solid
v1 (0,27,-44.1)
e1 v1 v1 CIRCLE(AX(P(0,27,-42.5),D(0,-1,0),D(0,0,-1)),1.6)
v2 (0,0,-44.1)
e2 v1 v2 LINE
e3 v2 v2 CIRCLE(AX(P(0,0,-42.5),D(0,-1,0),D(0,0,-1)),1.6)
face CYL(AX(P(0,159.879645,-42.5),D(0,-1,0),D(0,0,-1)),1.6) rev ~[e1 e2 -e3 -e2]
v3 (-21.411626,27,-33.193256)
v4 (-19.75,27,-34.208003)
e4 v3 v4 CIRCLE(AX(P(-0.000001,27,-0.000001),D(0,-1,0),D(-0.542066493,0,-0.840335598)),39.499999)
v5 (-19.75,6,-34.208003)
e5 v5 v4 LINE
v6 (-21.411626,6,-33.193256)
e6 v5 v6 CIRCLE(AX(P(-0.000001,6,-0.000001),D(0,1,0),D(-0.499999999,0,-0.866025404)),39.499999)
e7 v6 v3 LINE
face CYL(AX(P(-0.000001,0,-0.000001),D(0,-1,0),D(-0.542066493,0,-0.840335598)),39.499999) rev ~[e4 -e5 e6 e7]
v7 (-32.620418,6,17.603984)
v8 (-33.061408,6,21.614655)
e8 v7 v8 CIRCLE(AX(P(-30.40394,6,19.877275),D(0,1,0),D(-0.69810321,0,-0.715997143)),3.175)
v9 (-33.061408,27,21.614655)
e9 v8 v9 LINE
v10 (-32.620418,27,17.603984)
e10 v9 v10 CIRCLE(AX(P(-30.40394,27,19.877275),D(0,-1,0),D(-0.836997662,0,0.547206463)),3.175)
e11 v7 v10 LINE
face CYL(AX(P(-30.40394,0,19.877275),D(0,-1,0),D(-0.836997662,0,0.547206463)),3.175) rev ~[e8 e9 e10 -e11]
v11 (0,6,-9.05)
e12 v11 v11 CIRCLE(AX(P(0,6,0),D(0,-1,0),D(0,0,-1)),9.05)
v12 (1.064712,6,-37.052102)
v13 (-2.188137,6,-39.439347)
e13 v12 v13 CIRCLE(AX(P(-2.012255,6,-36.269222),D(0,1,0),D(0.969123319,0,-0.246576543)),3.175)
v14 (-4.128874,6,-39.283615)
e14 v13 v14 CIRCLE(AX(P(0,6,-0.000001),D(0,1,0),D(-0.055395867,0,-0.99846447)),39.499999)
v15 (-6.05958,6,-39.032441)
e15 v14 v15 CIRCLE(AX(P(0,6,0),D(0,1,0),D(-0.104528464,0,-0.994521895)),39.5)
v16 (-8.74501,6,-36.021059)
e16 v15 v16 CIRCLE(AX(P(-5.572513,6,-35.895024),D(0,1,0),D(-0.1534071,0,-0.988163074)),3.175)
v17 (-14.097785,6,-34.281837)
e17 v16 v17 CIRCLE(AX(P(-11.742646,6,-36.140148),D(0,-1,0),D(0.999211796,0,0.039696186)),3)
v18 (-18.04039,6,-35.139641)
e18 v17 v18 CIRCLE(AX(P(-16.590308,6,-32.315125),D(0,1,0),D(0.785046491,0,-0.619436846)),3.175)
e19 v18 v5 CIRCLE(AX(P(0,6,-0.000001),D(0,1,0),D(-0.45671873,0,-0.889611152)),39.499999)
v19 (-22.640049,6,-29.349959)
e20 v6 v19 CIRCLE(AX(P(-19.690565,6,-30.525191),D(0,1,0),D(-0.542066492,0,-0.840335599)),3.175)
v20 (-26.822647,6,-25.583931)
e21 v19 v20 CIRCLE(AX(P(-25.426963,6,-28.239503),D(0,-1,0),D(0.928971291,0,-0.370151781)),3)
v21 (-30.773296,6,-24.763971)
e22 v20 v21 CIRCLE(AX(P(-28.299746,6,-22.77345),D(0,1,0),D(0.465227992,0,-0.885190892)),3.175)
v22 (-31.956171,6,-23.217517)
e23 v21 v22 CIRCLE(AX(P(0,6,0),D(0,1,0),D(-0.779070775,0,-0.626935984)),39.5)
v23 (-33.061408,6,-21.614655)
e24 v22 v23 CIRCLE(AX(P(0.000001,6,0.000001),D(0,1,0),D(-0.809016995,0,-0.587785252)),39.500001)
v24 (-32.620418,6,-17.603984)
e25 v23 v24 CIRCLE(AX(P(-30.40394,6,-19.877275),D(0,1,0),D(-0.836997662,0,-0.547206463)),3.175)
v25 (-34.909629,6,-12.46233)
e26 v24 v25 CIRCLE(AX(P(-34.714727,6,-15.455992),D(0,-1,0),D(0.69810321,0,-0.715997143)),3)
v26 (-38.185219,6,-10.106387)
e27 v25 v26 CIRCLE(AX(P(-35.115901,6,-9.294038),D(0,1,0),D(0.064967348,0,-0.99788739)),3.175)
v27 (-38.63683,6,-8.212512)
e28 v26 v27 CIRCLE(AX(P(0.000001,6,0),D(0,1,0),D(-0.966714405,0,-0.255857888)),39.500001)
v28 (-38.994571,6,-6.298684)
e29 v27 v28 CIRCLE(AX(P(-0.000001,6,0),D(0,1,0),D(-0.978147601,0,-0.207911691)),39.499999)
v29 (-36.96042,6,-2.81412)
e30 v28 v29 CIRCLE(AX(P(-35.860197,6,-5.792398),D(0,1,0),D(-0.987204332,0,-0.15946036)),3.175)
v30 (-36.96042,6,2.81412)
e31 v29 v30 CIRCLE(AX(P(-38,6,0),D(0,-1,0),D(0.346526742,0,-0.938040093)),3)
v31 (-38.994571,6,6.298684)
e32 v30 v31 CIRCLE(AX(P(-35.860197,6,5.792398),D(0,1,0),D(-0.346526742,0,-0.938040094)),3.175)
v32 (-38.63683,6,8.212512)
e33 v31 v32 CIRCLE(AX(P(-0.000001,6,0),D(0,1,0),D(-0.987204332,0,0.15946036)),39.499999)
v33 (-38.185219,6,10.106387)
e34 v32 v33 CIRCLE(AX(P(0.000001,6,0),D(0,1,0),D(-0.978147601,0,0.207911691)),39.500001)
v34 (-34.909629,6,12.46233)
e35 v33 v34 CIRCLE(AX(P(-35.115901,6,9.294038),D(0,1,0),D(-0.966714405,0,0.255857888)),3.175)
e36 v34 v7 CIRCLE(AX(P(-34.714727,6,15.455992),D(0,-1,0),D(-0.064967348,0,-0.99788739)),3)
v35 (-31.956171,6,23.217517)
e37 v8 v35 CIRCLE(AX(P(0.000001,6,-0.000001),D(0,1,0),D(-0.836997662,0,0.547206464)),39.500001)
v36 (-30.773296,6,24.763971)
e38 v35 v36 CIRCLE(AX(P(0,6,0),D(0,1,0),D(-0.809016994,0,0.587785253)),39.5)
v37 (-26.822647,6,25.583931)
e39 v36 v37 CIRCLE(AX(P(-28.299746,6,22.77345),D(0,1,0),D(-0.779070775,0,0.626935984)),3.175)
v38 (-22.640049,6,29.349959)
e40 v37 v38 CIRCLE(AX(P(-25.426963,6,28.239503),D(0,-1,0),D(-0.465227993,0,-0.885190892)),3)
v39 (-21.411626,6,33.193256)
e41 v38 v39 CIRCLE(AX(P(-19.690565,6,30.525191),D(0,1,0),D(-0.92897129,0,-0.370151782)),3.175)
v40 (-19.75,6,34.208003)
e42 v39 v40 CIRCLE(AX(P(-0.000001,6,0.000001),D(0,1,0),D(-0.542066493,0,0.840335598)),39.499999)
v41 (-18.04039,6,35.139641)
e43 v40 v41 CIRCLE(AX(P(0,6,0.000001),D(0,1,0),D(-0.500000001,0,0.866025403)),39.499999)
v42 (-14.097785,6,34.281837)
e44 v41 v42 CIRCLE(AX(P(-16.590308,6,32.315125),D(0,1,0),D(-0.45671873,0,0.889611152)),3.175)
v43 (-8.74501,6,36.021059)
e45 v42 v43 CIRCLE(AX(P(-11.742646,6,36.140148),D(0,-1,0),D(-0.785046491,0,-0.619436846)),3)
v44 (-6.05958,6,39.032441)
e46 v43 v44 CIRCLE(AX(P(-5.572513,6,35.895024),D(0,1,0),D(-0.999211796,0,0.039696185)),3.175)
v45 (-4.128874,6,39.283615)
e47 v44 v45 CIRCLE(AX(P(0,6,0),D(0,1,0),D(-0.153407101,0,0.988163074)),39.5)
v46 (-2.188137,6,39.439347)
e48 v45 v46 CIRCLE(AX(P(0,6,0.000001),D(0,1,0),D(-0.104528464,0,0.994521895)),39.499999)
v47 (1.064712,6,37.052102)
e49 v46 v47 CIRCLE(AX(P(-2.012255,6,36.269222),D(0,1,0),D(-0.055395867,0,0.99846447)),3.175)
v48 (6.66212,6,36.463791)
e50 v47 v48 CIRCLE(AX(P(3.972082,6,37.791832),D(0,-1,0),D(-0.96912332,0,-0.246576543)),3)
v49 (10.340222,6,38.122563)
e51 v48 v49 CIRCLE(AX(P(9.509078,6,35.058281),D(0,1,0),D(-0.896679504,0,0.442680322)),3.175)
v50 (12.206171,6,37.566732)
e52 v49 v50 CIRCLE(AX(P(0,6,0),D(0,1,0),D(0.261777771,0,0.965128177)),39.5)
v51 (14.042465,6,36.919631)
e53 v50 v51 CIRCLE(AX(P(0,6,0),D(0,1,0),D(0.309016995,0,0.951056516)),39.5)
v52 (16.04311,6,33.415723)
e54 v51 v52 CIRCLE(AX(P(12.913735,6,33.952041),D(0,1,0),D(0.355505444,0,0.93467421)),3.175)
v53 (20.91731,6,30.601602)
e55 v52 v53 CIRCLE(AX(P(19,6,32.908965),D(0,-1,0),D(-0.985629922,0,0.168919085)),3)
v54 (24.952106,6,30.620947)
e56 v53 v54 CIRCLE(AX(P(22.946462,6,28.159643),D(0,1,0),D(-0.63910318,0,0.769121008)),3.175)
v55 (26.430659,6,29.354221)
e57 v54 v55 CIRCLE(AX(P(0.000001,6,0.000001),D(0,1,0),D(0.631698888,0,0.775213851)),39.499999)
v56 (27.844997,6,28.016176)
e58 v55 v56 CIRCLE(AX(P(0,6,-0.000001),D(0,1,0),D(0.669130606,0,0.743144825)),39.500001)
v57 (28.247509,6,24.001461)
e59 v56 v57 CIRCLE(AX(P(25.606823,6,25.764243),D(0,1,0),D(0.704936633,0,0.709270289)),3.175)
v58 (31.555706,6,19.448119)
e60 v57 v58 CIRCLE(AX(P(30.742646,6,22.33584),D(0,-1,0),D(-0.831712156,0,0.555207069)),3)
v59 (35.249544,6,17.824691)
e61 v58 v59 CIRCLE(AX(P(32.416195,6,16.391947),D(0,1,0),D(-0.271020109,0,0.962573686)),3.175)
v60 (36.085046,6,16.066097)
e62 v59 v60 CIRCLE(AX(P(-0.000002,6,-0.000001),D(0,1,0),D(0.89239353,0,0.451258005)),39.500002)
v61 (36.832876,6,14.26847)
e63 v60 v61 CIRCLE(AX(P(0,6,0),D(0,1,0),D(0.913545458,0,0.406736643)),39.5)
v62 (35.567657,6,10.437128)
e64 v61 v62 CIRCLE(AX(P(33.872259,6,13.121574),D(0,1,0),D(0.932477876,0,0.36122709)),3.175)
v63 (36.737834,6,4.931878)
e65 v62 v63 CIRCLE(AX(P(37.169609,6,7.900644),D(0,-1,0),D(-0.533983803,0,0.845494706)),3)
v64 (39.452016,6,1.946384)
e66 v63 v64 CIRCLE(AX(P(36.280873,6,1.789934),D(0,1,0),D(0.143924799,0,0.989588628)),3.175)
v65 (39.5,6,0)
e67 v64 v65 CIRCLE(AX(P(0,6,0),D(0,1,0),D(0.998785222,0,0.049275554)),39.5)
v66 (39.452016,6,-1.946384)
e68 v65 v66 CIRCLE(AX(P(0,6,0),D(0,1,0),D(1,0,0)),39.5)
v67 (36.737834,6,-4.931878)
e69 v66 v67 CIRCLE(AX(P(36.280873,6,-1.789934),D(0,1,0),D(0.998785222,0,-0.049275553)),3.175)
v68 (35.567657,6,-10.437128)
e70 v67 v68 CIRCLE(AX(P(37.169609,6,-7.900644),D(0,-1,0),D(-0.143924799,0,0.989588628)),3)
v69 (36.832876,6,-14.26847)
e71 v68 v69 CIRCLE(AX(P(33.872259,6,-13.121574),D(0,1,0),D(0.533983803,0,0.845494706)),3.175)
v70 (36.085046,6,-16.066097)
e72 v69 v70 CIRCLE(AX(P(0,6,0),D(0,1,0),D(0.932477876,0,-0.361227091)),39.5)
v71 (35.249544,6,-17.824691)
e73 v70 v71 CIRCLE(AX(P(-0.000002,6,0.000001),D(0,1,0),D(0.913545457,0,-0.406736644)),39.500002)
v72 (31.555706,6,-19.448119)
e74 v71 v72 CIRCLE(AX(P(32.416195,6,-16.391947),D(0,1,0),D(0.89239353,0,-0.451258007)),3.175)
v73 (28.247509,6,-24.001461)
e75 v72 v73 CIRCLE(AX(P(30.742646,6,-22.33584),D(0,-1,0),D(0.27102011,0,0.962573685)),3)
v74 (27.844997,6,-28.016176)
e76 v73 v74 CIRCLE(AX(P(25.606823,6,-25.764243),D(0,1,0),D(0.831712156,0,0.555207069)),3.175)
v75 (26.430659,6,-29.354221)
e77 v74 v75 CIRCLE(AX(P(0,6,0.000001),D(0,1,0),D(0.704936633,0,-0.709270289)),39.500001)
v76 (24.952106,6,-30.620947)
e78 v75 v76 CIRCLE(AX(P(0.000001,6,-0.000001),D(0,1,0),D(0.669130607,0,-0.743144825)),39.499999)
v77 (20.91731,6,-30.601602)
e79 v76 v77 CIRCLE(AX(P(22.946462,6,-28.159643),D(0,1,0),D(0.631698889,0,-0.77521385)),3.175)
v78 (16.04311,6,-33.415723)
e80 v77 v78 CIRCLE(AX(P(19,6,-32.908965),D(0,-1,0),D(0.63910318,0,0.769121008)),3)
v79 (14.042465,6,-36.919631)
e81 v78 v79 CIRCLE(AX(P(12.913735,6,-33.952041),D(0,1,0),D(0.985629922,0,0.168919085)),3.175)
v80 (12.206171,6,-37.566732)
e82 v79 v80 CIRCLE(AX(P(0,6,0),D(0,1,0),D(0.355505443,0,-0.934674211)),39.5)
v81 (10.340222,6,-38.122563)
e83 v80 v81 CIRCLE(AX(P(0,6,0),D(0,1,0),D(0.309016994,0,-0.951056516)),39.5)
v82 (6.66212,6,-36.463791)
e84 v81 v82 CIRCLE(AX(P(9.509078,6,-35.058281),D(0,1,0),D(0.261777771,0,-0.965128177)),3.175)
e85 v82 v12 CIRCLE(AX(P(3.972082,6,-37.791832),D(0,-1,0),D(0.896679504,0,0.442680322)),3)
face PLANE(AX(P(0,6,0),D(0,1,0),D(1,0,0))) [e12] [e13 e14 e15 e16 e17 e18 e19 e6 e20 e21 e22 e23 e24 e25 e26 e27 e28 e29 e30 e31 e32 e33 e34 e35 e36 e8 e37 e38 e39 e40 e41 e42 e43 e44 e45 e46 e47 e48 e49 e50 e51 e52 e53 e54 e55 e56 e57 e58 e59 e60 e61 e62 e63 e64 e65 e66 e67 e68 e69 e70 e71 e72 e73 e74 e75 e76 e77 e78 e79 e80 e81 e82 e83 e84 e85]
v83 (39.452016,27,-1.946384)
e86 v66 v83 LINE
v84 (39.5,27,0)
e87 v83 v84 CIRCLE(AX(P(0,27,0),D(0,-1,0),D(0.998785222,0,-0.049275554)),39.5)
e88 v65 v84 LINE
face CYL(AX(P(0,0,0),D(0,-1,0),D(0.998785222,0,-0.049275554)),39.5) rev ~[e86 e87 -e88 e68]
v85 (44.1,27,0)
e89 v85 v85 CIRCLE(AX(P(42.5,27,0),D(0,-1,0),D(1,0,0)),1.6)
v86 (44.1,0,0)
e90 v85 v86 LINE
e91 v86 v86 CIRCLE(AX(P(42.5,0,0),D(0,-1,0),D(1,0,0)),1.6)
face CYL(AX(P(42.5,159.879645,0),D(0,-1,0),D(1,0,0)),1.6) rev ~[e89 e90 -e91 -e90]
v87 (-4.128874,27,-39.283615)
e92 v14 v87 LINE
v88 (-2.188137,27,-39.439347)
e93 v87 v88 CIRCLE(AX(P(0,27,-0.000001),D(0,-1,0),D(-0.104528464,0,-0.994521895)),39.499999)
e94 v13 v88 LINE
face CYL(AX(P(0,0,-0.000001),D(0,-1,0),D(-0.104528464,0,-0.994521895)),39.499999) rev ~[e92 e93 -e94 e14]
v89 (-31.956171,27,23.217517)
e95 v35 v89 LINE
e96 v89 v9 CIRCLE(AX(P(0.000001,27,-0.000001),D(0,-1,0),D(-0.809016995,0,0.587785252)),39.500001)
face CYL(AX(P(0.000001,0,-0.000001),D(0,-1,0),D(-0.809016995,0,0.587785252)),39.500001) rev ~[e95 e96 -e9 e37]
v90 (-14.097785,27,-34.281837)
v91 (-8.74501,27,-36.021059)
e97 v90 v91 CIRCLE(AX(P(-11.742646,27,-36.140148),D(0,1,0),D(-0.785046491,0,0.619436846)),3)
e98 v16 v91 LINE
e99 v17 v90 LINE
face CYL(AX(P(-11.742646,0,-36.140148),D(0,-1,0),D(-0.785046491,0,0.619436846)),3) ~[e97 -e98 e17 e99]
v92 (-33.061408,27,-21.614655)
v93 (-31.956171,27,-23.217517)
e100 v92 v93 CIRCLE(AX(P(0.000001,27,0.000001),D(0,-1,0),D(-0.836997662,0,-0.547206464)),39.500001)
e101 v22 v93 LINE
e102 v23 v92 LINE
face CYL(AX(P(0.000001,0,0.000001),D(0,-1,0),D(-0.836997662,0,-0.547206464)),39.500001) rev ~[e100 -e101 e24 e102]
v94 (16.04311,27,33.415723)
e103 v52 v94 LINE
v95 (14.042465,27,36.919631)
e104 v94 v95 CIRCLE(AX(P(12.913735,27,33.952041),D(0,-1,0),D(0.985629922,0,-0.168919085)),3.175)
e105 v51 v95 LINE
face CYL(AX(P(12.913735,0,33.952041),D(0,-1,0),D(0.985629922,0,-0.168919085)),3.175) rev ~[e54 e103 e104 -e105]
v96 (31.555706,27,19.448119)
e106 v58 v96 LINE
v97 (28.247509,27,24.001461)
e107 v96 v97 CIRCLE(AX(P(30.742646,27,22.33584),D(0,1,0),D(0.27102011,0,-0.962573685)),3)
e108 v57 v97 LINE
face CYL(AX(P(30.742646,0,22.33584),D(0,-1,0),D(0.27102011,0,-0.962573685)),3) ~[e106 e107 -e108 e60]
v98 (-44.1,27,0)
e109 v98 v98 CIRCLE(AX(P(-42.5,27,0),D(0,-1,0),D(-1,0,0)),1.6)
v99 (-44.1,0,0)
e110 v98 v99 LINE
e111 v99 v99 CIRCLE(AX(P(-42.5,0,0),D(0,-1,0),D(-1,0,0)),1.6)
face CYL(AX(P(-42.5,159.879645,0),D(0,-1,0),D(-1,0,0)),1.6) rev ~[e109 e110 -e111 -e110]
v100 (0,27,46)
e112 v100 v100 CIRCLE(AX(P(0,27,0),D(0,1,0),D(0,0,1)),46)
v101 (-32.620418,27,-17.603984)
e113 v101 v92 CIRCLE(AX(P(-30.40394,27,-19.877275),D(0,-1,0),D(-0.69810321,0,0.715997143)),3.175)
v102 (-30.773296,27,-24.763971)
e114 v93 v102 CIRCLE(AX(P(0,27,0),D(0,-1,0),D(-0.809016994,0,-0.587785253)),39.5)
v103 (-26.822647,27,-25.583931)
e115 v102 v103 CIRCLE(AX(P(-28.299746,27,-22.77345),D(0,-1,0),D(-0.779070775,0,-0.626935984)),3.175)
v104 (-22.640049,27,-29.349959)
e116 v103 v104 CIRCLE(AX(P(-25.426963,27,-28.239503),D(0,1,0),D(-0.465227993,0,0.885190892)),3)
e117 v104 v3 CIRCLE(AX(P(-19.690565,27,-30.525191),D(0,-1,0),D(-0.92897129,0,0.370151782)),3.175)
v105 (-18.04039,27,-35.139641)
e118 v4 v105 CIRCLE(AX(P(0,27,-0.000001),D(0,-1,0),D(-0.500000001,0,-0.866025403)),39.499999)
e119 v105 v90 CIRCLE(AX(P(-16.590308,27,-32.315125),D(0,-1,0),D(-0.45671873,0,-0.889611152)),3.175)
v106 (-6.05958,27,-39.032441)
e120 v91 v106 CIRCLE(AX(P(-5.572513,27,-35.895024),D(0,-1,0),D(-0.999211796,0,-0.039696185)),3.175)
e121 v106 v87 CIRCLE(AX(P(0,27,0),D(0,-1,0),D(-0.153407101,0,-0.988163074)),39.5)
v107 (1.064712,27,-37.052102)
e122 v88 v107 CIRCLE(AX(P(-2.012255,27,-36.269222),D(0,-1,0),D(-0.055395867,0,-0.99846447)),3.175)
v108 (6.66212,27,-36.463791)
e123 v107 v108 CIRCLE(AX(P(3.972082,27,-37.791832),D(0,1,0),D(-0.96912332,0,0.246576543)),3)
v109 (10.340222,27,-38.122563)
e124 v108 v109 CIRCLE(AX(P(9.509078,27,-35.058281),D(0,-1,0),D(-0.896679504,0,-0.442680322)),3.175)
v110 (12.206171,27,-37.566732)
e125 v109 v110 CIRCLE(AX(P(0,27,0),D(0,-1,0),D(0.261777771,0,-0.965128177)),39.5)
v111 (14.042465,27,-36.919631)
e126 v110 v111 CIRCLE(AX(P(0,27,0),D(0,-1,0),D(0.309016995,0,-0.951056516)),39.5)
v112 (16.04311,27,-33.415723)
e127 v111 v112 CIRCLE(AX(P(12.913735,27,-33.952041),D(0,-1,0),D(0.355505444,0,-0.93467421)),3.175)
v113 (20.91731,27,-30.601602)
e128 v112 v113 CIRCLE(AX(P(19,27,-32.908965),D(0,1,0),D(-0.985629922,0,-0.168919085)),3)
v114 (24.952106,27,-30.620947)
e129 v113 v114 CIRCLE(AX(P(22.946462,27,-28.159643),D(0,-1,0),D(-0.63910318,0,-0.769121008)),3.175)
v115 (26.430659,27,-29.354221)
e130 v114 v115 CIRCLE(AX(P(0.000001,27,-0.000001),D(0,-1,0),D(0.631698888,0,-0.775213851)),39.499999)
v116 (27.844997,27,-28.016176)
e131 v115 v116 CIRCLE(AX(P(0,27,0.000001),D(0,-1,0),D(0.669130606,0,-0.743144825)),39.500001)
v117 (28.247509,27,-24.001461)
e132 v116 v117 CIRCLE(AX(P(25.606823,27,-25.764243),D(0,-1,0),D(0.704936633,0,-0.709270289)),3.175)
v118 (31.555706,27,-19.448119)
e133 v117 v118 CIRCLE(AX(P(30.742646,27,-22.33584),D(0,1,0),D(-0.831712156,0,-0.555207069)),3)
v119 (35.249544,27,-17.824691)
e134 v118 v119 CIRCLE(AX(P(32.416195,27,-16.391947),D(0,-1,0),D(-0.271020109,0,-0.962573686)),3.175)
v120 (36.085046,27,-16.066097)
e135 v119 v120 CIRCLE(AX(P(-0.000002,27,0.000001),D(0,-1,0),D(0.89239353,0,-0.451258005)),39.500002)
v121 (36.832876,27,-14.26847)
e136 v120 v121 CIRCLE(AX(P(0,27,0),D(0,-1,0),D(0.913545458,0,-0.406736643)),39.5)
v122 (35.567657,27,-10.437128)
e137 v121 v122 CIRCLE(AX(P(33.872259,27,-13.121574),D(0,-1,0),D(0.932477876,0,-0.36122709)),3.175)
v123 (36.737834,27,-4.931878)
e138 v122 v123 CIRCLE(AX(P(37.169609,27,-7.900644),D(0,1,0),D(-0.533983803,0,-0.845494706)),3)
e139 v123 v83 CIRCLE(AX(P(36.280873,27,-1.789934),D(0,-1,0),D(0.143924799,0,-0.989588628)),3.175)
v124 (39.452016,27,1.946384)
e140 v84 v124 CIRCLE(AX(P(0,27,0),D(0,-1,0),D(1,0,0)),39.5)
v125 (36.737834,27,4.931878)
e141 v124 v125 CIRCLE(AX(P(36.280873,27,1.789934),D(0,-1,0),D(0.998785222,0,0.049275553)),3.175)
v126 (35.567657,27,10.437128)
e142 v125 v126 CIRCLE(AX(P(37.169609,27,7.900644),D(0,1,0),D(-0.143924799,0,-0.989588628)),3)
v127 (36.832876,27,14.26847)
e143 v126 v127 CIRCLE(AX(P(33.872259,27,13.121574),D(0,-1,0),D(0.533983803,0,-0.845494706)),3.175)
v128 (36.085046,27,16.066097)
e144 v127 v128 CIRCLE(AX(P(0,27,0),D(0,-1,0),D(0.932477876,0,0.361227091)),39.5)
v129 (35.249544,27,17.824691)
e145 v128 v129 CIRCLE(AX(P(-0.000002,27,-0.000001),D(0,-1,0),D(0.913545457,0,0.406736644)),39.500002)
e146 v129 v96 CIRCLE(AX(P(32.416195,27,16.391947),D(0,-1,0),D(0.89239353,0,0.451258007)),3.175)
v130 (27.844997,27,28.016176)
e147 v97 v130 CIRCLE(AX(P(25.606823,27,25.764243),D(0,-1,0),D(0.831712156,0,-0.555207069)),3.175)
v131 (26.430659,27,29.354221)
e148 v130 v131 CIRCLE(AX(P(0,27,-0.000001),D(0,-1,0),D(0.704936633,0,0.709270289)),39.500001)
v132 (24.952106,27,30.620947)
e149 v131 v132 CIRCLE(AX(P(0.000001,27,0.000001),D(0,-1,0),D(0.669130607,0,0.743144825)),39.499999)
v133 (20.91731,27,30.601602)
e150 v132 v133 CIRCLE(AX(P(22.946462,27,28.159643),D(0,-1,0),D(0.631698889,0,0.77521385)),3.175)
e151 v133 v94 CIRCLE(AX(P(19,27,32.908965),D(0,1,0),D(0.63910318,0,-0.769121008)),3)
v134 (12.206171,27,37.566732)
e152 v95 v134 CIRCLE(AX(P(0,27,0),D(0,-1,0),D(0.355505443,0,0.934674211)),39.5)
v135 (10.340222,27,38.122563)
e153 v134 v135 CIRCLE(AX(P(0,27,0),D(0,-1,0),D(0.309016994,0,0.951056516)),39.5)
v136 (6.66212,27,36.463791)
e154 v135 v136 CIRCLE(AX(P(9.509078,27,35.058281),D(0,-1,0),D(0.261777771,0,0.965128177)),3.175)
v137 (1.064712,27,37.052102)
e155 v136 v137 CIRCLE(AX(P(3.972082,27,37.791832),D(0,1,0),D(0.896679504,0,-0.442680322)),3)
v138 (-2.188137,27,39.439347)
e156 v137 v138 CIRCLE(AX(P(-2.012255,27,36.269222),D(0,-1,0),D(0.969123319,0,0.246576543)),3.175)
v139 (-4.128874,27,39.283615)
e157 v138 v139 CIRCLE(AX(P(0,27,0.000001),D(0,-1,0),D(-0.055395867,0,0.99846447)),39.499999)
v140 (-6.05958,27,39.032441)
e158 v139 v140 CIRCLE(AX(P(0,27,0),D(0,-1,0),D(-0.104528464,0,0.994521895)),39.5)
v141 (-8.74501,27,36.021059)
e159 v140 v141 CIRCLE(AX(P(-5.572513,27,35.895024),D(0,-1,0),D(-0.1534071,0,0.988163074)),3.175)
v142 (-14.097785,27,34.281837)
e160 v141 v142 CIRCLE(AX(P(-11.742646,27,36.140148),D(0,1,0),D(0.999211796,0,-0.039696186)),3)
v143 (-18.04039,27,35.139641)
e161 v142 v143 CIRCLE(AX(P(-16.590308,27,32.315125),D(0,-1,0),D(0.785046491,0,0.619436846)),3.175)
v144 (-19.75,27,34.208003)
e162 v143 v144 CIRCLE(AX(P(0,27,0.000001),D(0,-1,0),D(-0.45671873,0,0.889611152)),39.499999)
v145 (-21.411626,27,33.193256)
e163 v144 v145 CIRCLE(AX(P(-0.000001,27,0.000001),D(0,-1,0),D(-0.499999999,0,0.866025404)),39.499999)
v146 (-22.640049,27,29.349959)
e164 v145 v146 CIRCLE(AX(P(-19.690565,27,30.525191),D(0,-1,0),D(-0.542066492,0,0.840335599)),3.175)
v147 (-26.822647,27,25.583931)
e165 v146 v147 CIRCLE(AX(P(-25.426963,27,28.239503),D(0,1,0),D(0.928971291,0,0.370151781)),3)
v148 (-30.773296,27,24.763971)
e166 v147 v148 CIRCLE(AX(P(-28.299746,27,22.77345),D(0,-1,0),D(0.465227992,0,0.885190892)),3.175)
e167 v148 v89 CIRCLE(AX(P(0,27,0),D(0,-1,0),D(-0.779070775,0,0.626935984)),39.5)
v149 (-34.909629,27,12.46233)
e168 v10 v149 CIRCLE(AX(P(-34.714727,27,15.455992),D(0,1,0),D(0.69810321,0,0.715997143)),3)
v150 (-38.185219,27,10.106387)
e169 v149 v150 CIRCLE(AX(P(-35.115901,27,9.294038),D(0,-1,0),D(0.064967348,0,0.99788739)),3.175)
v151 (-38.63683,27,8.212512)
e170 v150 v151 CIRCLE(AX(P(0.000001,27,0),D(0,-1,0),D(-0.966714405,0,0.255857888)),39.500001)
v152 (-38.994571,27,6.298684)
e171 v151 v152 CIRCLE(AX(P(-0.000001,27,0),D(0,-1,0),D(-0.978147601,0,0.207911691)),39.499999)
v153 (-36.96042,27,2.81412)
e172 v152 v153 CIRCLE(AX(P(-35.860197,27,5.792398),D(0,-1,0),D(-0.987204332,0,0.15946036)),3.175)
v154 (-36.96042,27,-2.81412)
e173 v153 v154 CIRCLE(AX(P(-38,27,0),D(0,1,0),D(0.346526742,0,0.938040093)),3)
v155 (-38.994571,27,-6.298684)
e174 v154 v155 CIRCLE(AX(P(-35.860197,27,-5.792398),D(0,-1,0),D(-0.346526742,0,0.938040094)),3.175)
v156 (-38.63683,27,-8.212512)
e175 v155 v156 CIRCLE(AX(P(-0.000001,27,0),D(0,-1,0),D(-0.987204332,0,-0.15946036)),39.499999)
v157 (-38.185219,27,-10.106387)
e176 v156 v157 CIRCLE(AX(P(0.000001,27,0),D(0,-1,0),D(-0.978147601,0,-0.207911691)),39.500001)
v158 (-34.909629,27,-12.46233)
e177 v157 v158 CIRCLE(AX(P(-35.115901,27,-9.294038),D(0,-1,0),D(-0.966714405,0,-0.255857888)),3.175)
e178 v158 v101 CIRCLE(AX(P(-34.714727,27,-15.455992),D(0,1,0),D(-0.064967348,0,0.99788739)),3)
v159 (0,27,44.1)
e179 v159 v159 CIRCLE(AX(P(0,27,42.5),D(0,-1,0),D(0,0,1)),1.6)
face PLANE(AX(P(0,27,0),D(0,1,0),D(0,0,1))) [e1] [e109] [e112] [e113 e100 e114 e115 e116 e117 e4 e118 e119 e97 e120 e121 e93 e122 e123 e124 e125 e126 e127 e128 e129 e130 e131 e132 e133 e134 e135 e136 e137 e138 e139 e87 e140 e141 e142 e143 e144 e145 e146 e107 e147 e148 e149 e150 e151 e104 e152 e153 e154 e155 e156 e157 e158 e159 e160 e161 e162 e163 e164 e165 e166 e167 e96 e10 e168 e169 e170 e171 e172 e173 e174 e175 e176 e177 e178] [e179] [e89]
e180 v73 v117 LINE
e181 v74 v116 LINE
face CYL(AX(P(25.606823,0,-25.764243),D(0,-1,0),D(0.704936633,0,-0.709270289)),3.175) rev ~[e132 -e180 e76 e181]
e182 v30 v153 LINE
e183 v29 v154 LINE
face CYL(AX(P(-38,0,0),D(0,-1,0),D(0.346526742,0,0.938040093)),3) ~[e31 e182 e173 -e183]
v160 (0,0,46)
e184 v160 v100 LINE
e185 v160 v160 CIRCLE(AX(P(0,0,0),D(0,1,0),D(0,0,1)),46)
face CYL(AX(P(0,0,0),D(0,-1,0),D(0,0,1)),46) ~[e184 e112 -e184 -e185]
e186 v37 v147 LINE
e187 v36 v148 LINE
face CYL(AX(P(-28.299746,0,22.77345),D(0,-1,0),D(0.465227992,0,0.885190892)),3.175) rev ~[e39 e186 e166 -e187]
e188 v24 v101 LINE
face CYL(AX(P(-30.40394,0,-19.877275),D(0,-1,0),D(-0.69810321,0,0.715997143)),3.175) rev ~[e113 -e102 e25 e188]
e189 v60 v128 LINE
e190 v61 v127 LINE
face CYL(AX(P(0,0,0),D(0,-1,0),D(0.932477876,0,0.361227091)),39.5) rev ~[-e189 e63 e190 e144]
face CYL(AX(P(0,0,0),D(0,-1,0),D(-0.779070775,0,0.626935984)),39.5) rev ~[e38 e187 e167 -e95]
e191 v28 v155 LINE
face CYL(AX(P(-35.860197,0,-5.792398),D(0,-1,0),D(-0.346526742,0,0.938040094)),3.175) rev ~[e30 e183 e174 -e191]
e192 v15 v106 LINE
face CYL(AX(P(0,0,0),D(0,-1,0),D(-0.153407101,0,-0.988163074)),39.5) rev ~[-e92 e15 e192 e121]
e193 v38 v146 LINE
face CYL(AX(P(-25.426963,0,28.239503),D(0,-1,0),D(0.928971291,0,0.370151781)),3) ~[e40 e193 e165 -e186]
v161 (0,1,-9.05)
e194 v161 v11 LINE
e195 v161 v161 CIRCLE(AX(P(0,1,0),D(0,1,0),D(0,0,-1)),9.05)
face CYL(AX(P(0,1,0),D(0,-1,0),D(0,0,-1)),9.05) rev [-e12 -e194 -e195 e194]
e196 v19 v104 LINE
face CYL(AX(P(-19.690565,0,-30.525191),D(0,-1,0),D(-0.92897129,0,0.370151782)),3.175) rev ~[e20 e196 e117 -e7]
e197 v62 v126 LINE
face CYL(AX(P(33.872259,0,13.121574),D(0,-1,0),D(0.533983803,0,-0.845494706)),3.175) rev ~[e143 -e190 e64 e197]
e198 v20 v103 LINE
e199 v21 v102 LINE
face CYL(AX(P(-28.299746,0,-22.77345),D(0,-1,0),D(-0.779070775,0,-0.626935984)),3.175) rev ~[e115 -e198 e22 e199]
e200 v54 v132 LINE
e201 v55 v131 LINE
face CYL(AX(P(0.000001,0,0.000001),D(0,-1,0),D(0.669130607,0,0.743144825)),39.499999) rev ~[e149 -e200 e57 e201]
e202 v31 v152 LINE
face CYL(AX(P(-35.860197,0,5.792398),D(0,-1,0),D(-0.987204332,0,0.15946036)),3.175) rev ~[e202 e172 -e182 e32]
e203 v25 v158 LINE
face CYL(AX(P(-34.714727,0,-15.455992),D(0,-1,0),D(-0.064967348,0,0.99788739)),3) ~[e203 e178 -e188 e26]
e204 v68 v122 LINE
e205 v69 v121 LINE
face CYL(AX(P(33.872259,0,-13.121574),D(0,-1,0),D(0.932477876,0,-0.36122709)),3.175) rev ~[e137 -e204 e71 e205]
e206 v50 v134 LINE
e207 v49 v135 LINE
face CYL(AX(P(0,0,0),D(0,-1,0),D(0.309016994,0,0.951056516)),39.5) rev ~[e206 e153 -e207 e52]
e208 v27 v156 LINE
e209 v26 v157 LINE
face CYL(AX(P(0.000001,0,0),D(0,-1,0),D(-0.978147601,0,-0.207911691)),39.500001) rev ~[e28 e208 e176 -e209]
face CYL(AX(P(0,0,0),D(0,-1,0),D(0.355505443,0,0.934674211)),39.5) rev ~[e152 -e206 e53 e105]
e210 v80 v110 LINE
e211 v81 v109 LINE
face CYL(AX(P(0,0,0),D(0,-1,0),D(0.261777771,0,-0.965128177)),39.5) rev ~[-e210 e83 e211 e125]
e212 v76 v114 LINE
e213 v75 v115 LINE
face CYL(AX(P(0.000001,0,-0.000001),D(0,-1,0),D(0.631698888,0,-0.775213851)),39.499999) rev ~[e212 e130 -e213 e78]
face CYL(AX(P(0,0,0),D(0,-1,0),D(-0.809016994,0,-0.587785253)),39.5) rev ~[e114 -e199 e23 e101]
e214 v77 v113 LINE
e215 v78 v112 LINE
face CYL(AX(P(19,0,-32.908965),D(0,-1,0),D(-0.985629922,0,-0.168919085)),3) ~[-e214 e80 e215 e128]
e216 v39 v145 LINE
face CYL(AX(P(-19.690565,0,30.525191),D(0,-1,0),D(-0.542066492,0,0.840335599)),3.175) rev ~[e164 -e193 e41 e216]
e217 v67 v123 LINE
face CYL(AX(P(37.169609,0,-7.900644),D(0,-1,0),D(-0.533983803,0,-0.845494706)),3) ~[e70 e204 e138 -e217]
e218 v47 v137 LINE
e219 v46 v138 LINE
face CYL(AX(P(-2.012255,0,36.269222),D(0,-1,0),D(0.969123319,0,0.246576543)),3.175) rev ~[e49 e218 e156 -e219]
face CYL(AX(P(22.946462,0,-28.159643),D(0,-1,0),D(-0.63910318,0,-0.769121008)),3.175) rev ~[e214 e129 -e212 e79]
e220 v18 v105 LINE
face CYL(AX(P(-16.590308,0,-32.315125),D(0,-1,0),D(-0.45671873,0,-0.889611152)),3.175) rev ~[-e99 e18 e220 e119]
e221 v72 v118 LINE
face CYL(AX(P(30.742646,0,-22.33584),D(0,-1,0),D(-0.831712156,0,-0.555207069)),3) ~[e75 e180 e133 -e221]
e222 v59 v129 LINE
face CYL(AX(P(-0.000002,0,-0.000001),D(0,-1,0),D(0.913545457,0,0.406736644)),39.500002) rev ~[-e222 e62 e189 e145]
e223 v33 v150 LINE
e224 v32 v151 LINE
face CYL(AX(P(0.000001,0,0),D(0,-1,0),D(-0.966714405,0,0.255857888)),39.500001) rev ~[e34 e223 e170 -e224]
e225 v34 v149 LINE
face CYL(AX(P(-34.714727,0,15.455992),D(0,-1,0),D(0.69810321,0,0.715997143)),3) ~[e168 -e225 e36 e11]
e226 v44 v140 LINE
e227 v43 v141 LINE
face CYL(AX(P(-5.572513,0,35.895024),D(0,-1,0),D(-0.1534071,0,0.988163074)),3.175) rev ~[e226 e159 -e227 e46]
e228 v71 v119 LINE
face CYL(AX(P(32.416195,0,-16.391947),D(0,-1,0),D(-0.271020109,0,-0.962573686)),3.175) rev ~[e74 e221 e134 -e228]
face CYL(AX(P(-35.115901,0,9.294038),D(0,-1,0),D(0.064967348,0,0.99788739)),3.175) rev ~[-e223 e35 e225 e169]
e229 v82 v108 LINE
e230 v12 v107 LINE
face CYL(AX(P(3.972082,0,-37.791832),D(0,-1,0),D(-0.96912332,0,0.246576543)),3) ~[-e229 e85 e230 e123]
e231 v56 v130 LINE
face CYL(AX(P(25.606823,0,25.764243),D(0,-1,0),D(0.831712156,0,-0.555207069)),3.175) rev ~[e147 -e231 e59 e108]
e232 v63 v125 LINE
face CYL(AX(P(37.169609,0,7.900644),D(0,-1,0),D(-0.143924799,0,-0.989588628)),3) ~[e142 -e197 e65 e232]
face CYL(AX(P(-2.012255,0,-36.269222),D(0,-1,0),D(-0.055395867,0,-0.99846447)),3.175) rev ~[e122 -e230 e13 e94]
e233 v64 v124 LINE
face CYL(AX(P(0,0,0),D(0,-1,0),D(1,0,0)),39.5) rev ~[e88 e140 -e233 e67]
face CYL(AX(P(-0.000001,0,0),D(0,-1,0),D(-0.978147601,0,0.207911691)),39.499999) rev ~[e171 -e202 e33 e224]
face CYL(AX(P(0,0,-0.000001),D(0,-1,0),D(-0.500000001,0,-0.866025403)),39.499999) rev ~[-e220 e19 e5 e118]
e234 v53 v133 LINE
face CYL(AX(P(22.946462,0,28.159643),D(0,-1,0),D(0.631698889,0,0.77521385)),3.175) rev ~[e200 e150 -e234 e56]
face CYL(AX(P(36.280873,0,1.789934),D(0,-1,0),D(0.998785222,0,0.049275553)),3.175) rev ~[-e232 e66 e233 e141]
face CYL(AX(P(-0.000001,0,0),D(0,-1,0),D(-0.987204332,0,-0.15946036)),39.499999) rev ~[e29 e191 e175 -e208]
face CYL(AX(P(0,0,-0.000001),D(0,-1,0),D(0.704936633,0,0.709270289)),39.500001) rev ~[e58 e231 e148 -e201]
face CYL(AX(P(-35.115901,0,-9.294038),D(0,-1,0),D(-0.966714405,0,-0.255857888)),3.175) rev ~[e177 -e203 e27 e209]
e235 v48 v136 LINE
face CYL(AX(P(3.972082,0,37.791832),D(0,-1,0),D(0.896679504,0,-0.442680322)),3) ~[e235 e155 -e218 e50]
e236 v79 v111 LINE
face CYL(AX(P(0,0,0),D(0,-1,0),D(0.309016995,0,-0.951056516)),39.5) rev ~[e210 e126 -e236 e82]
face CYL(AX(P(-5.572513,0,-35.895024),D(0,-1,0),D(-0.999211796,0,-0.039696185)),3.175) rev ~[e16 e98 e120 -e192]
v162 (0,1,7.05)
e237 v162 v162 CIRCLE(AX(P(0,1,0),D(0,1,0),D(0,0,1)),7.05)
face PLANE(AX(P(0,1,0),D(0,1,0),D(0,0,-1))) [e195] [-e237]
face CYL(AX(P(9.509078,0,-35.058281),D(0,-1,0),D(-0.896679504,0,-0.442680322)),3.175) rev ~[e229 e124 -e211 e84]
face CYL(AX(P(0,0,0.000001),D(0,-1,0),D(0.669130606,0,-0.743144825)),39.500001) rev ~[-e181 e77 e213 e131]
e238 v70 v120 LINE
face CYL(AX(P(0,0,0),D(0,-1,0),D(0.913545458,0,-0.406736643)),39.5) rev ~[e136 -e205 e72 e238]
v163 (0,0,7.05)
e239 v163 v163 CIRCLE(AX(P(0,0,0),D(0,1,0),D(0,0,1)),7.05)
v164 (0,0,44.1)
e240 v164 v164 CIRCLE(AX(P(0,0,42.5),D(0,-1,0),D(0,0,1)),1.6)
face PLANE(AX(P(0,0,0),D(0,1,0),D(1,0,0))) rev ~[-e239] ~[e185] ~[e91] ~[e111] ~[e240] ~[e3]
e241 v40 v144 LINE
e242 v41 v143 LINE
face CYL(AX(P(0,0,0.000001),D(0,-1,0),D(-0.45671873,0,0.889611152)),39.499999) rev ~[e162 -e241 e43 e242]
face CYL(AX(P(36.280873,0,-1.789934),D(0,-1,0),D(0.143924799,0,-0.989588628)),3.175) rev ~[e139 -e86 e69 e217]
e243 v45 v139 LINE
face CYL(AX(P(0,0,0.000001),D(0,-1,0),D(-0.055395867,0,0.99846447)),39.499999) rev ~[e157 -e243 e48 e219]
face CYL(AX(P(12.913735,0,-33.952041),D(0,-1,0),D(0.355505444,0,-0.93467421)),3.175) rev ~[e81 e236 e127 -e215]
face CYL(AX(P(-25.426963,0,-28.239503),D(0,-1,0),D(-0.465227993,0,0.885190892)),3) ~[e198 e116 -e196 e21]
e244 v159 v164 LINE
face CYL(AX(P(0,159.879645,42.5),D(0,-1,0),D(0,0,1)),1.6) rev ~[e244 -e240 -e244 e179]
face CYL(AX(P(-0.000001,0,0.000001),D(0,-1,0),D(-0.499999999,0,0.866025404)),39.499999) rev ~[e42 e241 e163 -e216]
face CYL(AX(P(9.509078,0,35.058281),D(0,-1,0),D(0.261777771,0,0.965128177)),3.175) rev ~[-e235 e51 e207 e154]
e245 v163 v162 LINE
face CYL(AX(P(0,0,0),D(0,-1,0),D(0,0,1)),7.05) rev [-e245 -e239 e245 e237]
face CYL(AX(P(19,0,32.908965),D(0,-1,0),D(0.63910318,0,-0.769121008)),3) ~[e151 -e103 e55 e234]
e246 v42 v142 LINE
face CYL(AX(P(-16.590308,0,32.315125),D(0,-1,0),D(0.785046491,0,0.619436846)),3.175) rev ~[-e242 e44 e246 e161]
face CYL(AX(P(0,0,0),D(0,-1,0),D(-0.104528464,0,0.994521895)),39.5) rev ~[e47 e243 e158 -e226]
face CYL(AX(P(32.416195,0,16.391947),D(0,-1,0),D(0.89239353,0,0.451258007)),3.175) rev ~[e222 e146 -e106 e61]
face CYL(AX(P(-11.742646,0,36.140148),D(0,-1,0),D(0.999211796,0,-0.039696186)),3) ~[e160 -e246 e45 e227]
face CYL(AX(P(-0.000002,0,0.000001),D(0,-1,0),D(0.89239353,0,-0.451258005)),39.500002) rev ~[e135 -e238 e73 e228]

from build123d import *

# Parameters (mm, degrees)
SKETCH1_R            = 46
BOSS_EXTRUDE1_DEPTH  = 27
SKETCH1_3_R          = 46
BOSS_EXTRUDE2_DEPTH  = 6
SKETCH2_R            = 7.05
CUT_EXTRUDE1_DEPTH   = 71.434366612
CUT_EXTRUDE2_START   = 1
SKETCH2_3_R          = 9.05
SKETCH2_3_R_2        = 7.05
CUT_EXTRUDE2_DEPTH   = 70.434366612
M3_CLEARANCE_HOLE1_D = 3.2
CIRPATTERN1_COUNT    = 4


with BuildPart() as part:
    # Sketch1 → Boss-Extrude1 (new body)
    with BuildSketch(Plane(origin=(0, 0, 0), x_dir=(1, 0, 0), z_dir=(0, 1, 0))):
        Circle(SKETCH1_R)
        with BuildLine():
            ThreePointArc((-38.994571123, -6.298684221), (-38.602185265, -4.191732911), (-36.960419774, -2.814120281))
            ThreePointArc((-36.960419774, -2.814120281), (-35, 0), (-36.960419774, 2.814120281))
            ThreePointArc((-36.960419774, 2.814120281), (-38.602185265, 4.191732911), (-38.994571123, 6.298684221))
            ThreePointArc((-38.994571123, 6.298684221), (-38.827494163, 7.257802493), (-38.636830229, 8.212511787))
            ThreePointArc((-38.636830229, 8.212511787), (-38.422695146, 9.162232135), (-38.185218998, 10.106386598))
            ThreePointArc((-38.185218998, 10.106386598), (-36.969782377, 11.87158469), (-34.909629433, 12.462330266))
            ThreePointArc((-34.909629433, 12.462330266), (-31.974091017, 14.235782508), (-32.620417761, 17.603983865))
            ThreePointArc((-32.620417761, 17.603983865), (-33.559919631, 19.53026181), (-33.061407647, 21.614655316))
            ThreePointArc((-33.061407647, 21.614655316), (-32.518666702, 22.422897135), (-31.956171278, 23.217517466))
            ThreePointArc((-31.956171278, 23.217517466), (-31.37426308, 23.99803359), (-30.773295606, 24.76397136))
            ThreePointArc((-30.773295606, 24.76397136), (-28.944968255, 25.882197447), (-26.82264702, 25.583930693))
            ThreePointArc((-26.82264702, 25.583930693), (-23.419571223, 26.010068892), (-22.64004917, 29.349958712))
            ThreePointArc((-22.64004917, 29.349958712), (-22.714839011, 31.491831016), (-21.411626434, 33.193256144))
            ThreePointArc((-21.411626434, 33.193256144), (-20.587066345, 33.710869157), (-19.75, 34.208003449))
            ThreePointArc((-19.75, 34.208003449), (-18.900935901, 34.684357023), (-18.040389838, 35.139640501))
            ThreePointArc((-18.040389838, 35.139640501), (-15.915306166, 35.417543134), (-14.09778526, 34.28183708))
            ThreePointArc((-14.09778526, 34.28183708), (-10.815594803, 33.28697807), (-8.745010399, 36.021059062))
            ThreePointArc((-8.745010399, 36.021059062), (-7.942156368, 38.008176545), (-6.059580493, 39.032441433))
            ThreePointArc((-6.059580493, 39.032441433), (-5.09577519, 39.169925647), (-4.128874299, 39.283614867))
            ThreePointArc((-4.128874299, 39.283614867), (-3.159465195, 39.373440029), (-2.188136774, 39.439346565))
            ThreePointArc((-2.188136774, 39.439346565), (-0.133743055, 38.828873854), (1.064711645, 37.052102396))
            ThreePointArc((1.064711645, 37.052102396), (3.658496214, 34.808266338), (6.662120116, 36.463791059))
            ThreePointArc((6.662120116, 36.463791059), (8.203797264, 37.952563055), (10.340221965, 38.122563))
            ThreePointArc((10.340221965, 38.122563), (11.276621789, 37.856146146), (12.206171278, 37.566732394))
            ThreePointArc((12.206171278, 37.566732394), (13.128305747, 37.254497557), (14.042465016, 36.919631313))
            ThreePointArc((14.042465016, 36.919631313), (15.670945446, 35.526339536), (16.043110235, 33.415722599))
            ThreePointArc((16.043110235, 33.415722599), (17.5, 30.310889132), (20.917309539, 30.601602319))
            ThreePointArc((20.917309539, 30.601602319), (22.931239819, 31.334606626), (24.952106107, 30.620947092))
            ThreePointArc((24.952106107, 30.620947092), (25.699188416, 29.996695064), (26.430658951, 29.354220606))
            ThreePointArc((26.430658951, 29.354220606), (27.146073357, 28.693914011), (27.844997033, 28.016176403))
            ThreePointArc((27.844997033, 28.016176403), (28.765985113, 26.080978366), (28.247509317, 24.001460793))
            ThreePointArc((28.247509317, 24.001460793), (28.315594803, 20.57248383), (31.555706116, 19.448118531))
            ThreePointArc((31.555706116, 19.448118531), (33.693662686, 19.298612044), (35.249544421, 17.824691249))
            ThreePointArc((35.249544421, 17.824691249), (35.678131896, 16.950542893), (36.085045577, 16.066097401))
            ThreePointArc((36.085045577, 16.066097401), (36.47003827, 15.171892057), (36.8328761, 14.268470073))
            ThreePointArc((36.8328761, 14.268470073), (36.887124623, 12.125979097), (35.567657418, 10.437128369))
            ThreePointArc((35.567657418, 10.437128369), (34.235166026, 7.276909179), (36.73783443, 4.931878368))
            ThreePointArc((36.73783443, 4.931878368), (38.630145177, 3.925712118), (39.452016272, 1.946384357))
            ThreePointArc((39.452016272, 1.946384357), (39.488002246, 0.973487866), (39.5, 0))
            ThreePointArc((39.5, 0), (39.488002246, -0.973487866), (39.452016272, -1.946384357))
            ThreePointArc((39.452016272, -1.946384357), (38.630145177, -3.925712118), (36.73783443, -4.931878368))
            ThreePointArc((36.73783443, -4.931878368), (34.235166026, -7.276909179), (35.567657418, -10.437128369))
            ThreePointArc((35.567657418, -10.437128369), (36.887124623, -12.125979097), (36.8328761, -14.268470073))
            ThreePointArc((36.8328761, -14.268470073), (36.47003827, -15.171892057), (36.085045577, -16.066097401))
            ThreePointArc((36.085045577, -16.066097401), (35.678131896, -16.950542893), (35.249544421, -17.824691249))
            ThreePointArc((35.249544421, -17.824691249), (33.693662686, -19.298612044), (31.555706116, -19.448118531))
            ThreePointArc((31.555706116, -19.448118531), (28.315594803, -20.57248383), (28.247509317, -24.001460793))
            ThreePointArc((28.247509317, -24.001460793), (28.765985113, -26.080978366), (27.844997033, -28.016176403))
            ThreePointArc((27.844997033, -28.016176403), (27.146073357, -28.693914011), (26.430658951, -29.354220606))
            ThreePointArc((26.430658951, -29.354220606), (25.699188416, -29.996695064), (24.952106107, -30.620947092))
            ThreePointArc((24.952106107, -30.620947092), (22.931239819, -31.334606626), (20.917309539, -30.601602319))
            ThreePointArc((20.917309539, -30.601602319), (17.5, -30.310889132), (16.043110235, -33.415722599))
            ThreePointArc((16.043110235, -33.415722599), (15.670945446, -35.526339536), (14.042465016, -36.919631313))
            ThreePointArc((14.042465016, -36.919631313), (13.128305747, -37.254497557), (12.206171278, -37.566732394))
            ThreePointArc((12.206171278, -37.566732394), (11.276621789, -37.856146146), (10.340221965, -38.122563))
            ThreePointArc((10.340221965, -38.122563), (8.203797264, -37.952563055), (6.662120116, -36.463791059))
            ThreePointArc((6.662120116, -36.463791059), (3.658496214, -34.808266338), (1.064711645, -37.052102396))
            ThreePointArc((1.064711645, -37.052102396), (-0.133743055, -38.828873854), (-2.188136774, -39.439346565))
            ThreePointArc((-2.188136774, -39.439346565), (-3.159465195, -39.373440029), (-4.128874299, -39.283614867))
            ThreePointArc((-4.128874299, -39.283614867), (-5.09577519, -39.169925647), (-6.059580493, -39.032441433))
            ThreePointArc((-6.059580493, -39.032441433), (-7.942156368, -38.008176545), (-8.745010399, -36.021059062))
            ThreePointArc((-8.745010399, -36.021059062), (-10.815594803, -33.28697807), (-14.09778526, -34.28183708))
            ThreePointArc((-14.09778526, -34.28183708), (-15.915306166, -35.417543134), (-18.040389838, -35.139640501))
            ThreePointArc((-18.040389838, -35.139640501), (-18.900935901, -34.684357023), (-19.75, -34.208003449))
            ThreePointArc((-19.75, -34.208003449), (-20.587066345, -33.710869157), (-21.411626434, -33.193256144))
            ThreePointArc((-21.411626434, -33.193256144), (-22.714839011, -31.491831016), (-22.64004917, -29.349958712))
            ThreePointArc((-22.64004917, -29.349958712), (-23.419571223, -26.010068892), (-26.82264702, -25.583930693))
            ThreePointArc((-26.82264702, -25.583930693), (-28.944968255, -25.882197447), (-30.773295606, -24.76397136))
            ThreePointArc((-30.773295606, -24.76397136), (-31.37426308, -23.99803359), (-31.956171278, -23.217517466))
            ThreePointArc((-31.956171278, -23.217517466), (-32.518666702, -22.422897135), (-33.061407647, -21.614655316))
            ThreePointArc((-33.061407647, -21.614655316), (-33.559919631, -19.53026181), (-32.620417761, -17.603983865))
            ThreePointArc((-32.620417761, -17.603983865), (-31.974091017, -14.235782508), (-34.909629433, -12.462330266))
            ThreePointArc((-34.909629433, -12.462330266), (-36.969782377, -11.87158469), (-38.185218998, -10.106386598))
            ThreePointArc((-38.185218998, -10.106386598), (-38.422695146, -9.162232135), (-38.636830229, -8.212511787))
            ThreePointArc((-38.636830229, -8.212511787), (-38.827494163, -7.257802493), (-38.994571123, -6.298684221))
        make_face(mode=Mode.SUBTRACT)
    extrude(amount=BOSS_EXTRUDE1_DEPTH)

    # Sketch1<3> → Boss-Extrude2 (add)
    with BuildSketch(Plane(origin=(0, 0, 0), x_dir=(1, 0, 0), z_dir=(0, 1, 0))):
        Circle(SKETCH1_3_R)
    extrude(amount=BOSS_EXTRUDE2_DEPTH)

    # Sketch2 → Cut-Extrude1 (cut, through all)
    with BuildSketch(Plane(origin=(0, 0, 0), x_dir=(1, 0, 0), z_dir=(0, 1, 0))):
        Circle(SKETCH2_R)
    extrude(amount=CUT_EXTRUDE1_DEPTH, mode=Mode.SUBTRACT)

    # Sketch2<3> → Cut-Extrude2 (cut, through all)
    with BuildSketch(Plane(origin=(0, 0, 0), x_dir=(1, 0, 0), z_dir=(0, 1, 0)).offset(CUT_EXTRUDE2_START)):
        Circle(SKETCH2_3_R)
        Circle(SKETCH2_3_R_2, mode=Mode.SUBTRACT)
    extrude(amount=CUT_EXTRUDE2_DEPTH, mode=Mode.SUBTRACT)

    # M3 Clearance Hole1 (through all)
    with Locations(Plane(origin=(0, 27, 0), x_dir=(1, 0, 0), z_dir=(0, 1, 0))):
        with Locations((-42.5, 0)):
            m3_clearance_hole1 = Hole(M3_CLEARANCE_HOLE1_D / 2)

    # CirPattern1: M3 Clearance Hole1 ×4 about axis
    cirpattern1_axis = Axis((0, 27, 0), (0, -1, 0))
    for i in range(1, CIRPATTERN1_COUNT):
        add(m3_clearance_hole1.rotate(cirpattern1_axis, i * 360 / CIRPATTERN1_COUNT), mode=Mode.SUBTRACT)


solid = part.part
